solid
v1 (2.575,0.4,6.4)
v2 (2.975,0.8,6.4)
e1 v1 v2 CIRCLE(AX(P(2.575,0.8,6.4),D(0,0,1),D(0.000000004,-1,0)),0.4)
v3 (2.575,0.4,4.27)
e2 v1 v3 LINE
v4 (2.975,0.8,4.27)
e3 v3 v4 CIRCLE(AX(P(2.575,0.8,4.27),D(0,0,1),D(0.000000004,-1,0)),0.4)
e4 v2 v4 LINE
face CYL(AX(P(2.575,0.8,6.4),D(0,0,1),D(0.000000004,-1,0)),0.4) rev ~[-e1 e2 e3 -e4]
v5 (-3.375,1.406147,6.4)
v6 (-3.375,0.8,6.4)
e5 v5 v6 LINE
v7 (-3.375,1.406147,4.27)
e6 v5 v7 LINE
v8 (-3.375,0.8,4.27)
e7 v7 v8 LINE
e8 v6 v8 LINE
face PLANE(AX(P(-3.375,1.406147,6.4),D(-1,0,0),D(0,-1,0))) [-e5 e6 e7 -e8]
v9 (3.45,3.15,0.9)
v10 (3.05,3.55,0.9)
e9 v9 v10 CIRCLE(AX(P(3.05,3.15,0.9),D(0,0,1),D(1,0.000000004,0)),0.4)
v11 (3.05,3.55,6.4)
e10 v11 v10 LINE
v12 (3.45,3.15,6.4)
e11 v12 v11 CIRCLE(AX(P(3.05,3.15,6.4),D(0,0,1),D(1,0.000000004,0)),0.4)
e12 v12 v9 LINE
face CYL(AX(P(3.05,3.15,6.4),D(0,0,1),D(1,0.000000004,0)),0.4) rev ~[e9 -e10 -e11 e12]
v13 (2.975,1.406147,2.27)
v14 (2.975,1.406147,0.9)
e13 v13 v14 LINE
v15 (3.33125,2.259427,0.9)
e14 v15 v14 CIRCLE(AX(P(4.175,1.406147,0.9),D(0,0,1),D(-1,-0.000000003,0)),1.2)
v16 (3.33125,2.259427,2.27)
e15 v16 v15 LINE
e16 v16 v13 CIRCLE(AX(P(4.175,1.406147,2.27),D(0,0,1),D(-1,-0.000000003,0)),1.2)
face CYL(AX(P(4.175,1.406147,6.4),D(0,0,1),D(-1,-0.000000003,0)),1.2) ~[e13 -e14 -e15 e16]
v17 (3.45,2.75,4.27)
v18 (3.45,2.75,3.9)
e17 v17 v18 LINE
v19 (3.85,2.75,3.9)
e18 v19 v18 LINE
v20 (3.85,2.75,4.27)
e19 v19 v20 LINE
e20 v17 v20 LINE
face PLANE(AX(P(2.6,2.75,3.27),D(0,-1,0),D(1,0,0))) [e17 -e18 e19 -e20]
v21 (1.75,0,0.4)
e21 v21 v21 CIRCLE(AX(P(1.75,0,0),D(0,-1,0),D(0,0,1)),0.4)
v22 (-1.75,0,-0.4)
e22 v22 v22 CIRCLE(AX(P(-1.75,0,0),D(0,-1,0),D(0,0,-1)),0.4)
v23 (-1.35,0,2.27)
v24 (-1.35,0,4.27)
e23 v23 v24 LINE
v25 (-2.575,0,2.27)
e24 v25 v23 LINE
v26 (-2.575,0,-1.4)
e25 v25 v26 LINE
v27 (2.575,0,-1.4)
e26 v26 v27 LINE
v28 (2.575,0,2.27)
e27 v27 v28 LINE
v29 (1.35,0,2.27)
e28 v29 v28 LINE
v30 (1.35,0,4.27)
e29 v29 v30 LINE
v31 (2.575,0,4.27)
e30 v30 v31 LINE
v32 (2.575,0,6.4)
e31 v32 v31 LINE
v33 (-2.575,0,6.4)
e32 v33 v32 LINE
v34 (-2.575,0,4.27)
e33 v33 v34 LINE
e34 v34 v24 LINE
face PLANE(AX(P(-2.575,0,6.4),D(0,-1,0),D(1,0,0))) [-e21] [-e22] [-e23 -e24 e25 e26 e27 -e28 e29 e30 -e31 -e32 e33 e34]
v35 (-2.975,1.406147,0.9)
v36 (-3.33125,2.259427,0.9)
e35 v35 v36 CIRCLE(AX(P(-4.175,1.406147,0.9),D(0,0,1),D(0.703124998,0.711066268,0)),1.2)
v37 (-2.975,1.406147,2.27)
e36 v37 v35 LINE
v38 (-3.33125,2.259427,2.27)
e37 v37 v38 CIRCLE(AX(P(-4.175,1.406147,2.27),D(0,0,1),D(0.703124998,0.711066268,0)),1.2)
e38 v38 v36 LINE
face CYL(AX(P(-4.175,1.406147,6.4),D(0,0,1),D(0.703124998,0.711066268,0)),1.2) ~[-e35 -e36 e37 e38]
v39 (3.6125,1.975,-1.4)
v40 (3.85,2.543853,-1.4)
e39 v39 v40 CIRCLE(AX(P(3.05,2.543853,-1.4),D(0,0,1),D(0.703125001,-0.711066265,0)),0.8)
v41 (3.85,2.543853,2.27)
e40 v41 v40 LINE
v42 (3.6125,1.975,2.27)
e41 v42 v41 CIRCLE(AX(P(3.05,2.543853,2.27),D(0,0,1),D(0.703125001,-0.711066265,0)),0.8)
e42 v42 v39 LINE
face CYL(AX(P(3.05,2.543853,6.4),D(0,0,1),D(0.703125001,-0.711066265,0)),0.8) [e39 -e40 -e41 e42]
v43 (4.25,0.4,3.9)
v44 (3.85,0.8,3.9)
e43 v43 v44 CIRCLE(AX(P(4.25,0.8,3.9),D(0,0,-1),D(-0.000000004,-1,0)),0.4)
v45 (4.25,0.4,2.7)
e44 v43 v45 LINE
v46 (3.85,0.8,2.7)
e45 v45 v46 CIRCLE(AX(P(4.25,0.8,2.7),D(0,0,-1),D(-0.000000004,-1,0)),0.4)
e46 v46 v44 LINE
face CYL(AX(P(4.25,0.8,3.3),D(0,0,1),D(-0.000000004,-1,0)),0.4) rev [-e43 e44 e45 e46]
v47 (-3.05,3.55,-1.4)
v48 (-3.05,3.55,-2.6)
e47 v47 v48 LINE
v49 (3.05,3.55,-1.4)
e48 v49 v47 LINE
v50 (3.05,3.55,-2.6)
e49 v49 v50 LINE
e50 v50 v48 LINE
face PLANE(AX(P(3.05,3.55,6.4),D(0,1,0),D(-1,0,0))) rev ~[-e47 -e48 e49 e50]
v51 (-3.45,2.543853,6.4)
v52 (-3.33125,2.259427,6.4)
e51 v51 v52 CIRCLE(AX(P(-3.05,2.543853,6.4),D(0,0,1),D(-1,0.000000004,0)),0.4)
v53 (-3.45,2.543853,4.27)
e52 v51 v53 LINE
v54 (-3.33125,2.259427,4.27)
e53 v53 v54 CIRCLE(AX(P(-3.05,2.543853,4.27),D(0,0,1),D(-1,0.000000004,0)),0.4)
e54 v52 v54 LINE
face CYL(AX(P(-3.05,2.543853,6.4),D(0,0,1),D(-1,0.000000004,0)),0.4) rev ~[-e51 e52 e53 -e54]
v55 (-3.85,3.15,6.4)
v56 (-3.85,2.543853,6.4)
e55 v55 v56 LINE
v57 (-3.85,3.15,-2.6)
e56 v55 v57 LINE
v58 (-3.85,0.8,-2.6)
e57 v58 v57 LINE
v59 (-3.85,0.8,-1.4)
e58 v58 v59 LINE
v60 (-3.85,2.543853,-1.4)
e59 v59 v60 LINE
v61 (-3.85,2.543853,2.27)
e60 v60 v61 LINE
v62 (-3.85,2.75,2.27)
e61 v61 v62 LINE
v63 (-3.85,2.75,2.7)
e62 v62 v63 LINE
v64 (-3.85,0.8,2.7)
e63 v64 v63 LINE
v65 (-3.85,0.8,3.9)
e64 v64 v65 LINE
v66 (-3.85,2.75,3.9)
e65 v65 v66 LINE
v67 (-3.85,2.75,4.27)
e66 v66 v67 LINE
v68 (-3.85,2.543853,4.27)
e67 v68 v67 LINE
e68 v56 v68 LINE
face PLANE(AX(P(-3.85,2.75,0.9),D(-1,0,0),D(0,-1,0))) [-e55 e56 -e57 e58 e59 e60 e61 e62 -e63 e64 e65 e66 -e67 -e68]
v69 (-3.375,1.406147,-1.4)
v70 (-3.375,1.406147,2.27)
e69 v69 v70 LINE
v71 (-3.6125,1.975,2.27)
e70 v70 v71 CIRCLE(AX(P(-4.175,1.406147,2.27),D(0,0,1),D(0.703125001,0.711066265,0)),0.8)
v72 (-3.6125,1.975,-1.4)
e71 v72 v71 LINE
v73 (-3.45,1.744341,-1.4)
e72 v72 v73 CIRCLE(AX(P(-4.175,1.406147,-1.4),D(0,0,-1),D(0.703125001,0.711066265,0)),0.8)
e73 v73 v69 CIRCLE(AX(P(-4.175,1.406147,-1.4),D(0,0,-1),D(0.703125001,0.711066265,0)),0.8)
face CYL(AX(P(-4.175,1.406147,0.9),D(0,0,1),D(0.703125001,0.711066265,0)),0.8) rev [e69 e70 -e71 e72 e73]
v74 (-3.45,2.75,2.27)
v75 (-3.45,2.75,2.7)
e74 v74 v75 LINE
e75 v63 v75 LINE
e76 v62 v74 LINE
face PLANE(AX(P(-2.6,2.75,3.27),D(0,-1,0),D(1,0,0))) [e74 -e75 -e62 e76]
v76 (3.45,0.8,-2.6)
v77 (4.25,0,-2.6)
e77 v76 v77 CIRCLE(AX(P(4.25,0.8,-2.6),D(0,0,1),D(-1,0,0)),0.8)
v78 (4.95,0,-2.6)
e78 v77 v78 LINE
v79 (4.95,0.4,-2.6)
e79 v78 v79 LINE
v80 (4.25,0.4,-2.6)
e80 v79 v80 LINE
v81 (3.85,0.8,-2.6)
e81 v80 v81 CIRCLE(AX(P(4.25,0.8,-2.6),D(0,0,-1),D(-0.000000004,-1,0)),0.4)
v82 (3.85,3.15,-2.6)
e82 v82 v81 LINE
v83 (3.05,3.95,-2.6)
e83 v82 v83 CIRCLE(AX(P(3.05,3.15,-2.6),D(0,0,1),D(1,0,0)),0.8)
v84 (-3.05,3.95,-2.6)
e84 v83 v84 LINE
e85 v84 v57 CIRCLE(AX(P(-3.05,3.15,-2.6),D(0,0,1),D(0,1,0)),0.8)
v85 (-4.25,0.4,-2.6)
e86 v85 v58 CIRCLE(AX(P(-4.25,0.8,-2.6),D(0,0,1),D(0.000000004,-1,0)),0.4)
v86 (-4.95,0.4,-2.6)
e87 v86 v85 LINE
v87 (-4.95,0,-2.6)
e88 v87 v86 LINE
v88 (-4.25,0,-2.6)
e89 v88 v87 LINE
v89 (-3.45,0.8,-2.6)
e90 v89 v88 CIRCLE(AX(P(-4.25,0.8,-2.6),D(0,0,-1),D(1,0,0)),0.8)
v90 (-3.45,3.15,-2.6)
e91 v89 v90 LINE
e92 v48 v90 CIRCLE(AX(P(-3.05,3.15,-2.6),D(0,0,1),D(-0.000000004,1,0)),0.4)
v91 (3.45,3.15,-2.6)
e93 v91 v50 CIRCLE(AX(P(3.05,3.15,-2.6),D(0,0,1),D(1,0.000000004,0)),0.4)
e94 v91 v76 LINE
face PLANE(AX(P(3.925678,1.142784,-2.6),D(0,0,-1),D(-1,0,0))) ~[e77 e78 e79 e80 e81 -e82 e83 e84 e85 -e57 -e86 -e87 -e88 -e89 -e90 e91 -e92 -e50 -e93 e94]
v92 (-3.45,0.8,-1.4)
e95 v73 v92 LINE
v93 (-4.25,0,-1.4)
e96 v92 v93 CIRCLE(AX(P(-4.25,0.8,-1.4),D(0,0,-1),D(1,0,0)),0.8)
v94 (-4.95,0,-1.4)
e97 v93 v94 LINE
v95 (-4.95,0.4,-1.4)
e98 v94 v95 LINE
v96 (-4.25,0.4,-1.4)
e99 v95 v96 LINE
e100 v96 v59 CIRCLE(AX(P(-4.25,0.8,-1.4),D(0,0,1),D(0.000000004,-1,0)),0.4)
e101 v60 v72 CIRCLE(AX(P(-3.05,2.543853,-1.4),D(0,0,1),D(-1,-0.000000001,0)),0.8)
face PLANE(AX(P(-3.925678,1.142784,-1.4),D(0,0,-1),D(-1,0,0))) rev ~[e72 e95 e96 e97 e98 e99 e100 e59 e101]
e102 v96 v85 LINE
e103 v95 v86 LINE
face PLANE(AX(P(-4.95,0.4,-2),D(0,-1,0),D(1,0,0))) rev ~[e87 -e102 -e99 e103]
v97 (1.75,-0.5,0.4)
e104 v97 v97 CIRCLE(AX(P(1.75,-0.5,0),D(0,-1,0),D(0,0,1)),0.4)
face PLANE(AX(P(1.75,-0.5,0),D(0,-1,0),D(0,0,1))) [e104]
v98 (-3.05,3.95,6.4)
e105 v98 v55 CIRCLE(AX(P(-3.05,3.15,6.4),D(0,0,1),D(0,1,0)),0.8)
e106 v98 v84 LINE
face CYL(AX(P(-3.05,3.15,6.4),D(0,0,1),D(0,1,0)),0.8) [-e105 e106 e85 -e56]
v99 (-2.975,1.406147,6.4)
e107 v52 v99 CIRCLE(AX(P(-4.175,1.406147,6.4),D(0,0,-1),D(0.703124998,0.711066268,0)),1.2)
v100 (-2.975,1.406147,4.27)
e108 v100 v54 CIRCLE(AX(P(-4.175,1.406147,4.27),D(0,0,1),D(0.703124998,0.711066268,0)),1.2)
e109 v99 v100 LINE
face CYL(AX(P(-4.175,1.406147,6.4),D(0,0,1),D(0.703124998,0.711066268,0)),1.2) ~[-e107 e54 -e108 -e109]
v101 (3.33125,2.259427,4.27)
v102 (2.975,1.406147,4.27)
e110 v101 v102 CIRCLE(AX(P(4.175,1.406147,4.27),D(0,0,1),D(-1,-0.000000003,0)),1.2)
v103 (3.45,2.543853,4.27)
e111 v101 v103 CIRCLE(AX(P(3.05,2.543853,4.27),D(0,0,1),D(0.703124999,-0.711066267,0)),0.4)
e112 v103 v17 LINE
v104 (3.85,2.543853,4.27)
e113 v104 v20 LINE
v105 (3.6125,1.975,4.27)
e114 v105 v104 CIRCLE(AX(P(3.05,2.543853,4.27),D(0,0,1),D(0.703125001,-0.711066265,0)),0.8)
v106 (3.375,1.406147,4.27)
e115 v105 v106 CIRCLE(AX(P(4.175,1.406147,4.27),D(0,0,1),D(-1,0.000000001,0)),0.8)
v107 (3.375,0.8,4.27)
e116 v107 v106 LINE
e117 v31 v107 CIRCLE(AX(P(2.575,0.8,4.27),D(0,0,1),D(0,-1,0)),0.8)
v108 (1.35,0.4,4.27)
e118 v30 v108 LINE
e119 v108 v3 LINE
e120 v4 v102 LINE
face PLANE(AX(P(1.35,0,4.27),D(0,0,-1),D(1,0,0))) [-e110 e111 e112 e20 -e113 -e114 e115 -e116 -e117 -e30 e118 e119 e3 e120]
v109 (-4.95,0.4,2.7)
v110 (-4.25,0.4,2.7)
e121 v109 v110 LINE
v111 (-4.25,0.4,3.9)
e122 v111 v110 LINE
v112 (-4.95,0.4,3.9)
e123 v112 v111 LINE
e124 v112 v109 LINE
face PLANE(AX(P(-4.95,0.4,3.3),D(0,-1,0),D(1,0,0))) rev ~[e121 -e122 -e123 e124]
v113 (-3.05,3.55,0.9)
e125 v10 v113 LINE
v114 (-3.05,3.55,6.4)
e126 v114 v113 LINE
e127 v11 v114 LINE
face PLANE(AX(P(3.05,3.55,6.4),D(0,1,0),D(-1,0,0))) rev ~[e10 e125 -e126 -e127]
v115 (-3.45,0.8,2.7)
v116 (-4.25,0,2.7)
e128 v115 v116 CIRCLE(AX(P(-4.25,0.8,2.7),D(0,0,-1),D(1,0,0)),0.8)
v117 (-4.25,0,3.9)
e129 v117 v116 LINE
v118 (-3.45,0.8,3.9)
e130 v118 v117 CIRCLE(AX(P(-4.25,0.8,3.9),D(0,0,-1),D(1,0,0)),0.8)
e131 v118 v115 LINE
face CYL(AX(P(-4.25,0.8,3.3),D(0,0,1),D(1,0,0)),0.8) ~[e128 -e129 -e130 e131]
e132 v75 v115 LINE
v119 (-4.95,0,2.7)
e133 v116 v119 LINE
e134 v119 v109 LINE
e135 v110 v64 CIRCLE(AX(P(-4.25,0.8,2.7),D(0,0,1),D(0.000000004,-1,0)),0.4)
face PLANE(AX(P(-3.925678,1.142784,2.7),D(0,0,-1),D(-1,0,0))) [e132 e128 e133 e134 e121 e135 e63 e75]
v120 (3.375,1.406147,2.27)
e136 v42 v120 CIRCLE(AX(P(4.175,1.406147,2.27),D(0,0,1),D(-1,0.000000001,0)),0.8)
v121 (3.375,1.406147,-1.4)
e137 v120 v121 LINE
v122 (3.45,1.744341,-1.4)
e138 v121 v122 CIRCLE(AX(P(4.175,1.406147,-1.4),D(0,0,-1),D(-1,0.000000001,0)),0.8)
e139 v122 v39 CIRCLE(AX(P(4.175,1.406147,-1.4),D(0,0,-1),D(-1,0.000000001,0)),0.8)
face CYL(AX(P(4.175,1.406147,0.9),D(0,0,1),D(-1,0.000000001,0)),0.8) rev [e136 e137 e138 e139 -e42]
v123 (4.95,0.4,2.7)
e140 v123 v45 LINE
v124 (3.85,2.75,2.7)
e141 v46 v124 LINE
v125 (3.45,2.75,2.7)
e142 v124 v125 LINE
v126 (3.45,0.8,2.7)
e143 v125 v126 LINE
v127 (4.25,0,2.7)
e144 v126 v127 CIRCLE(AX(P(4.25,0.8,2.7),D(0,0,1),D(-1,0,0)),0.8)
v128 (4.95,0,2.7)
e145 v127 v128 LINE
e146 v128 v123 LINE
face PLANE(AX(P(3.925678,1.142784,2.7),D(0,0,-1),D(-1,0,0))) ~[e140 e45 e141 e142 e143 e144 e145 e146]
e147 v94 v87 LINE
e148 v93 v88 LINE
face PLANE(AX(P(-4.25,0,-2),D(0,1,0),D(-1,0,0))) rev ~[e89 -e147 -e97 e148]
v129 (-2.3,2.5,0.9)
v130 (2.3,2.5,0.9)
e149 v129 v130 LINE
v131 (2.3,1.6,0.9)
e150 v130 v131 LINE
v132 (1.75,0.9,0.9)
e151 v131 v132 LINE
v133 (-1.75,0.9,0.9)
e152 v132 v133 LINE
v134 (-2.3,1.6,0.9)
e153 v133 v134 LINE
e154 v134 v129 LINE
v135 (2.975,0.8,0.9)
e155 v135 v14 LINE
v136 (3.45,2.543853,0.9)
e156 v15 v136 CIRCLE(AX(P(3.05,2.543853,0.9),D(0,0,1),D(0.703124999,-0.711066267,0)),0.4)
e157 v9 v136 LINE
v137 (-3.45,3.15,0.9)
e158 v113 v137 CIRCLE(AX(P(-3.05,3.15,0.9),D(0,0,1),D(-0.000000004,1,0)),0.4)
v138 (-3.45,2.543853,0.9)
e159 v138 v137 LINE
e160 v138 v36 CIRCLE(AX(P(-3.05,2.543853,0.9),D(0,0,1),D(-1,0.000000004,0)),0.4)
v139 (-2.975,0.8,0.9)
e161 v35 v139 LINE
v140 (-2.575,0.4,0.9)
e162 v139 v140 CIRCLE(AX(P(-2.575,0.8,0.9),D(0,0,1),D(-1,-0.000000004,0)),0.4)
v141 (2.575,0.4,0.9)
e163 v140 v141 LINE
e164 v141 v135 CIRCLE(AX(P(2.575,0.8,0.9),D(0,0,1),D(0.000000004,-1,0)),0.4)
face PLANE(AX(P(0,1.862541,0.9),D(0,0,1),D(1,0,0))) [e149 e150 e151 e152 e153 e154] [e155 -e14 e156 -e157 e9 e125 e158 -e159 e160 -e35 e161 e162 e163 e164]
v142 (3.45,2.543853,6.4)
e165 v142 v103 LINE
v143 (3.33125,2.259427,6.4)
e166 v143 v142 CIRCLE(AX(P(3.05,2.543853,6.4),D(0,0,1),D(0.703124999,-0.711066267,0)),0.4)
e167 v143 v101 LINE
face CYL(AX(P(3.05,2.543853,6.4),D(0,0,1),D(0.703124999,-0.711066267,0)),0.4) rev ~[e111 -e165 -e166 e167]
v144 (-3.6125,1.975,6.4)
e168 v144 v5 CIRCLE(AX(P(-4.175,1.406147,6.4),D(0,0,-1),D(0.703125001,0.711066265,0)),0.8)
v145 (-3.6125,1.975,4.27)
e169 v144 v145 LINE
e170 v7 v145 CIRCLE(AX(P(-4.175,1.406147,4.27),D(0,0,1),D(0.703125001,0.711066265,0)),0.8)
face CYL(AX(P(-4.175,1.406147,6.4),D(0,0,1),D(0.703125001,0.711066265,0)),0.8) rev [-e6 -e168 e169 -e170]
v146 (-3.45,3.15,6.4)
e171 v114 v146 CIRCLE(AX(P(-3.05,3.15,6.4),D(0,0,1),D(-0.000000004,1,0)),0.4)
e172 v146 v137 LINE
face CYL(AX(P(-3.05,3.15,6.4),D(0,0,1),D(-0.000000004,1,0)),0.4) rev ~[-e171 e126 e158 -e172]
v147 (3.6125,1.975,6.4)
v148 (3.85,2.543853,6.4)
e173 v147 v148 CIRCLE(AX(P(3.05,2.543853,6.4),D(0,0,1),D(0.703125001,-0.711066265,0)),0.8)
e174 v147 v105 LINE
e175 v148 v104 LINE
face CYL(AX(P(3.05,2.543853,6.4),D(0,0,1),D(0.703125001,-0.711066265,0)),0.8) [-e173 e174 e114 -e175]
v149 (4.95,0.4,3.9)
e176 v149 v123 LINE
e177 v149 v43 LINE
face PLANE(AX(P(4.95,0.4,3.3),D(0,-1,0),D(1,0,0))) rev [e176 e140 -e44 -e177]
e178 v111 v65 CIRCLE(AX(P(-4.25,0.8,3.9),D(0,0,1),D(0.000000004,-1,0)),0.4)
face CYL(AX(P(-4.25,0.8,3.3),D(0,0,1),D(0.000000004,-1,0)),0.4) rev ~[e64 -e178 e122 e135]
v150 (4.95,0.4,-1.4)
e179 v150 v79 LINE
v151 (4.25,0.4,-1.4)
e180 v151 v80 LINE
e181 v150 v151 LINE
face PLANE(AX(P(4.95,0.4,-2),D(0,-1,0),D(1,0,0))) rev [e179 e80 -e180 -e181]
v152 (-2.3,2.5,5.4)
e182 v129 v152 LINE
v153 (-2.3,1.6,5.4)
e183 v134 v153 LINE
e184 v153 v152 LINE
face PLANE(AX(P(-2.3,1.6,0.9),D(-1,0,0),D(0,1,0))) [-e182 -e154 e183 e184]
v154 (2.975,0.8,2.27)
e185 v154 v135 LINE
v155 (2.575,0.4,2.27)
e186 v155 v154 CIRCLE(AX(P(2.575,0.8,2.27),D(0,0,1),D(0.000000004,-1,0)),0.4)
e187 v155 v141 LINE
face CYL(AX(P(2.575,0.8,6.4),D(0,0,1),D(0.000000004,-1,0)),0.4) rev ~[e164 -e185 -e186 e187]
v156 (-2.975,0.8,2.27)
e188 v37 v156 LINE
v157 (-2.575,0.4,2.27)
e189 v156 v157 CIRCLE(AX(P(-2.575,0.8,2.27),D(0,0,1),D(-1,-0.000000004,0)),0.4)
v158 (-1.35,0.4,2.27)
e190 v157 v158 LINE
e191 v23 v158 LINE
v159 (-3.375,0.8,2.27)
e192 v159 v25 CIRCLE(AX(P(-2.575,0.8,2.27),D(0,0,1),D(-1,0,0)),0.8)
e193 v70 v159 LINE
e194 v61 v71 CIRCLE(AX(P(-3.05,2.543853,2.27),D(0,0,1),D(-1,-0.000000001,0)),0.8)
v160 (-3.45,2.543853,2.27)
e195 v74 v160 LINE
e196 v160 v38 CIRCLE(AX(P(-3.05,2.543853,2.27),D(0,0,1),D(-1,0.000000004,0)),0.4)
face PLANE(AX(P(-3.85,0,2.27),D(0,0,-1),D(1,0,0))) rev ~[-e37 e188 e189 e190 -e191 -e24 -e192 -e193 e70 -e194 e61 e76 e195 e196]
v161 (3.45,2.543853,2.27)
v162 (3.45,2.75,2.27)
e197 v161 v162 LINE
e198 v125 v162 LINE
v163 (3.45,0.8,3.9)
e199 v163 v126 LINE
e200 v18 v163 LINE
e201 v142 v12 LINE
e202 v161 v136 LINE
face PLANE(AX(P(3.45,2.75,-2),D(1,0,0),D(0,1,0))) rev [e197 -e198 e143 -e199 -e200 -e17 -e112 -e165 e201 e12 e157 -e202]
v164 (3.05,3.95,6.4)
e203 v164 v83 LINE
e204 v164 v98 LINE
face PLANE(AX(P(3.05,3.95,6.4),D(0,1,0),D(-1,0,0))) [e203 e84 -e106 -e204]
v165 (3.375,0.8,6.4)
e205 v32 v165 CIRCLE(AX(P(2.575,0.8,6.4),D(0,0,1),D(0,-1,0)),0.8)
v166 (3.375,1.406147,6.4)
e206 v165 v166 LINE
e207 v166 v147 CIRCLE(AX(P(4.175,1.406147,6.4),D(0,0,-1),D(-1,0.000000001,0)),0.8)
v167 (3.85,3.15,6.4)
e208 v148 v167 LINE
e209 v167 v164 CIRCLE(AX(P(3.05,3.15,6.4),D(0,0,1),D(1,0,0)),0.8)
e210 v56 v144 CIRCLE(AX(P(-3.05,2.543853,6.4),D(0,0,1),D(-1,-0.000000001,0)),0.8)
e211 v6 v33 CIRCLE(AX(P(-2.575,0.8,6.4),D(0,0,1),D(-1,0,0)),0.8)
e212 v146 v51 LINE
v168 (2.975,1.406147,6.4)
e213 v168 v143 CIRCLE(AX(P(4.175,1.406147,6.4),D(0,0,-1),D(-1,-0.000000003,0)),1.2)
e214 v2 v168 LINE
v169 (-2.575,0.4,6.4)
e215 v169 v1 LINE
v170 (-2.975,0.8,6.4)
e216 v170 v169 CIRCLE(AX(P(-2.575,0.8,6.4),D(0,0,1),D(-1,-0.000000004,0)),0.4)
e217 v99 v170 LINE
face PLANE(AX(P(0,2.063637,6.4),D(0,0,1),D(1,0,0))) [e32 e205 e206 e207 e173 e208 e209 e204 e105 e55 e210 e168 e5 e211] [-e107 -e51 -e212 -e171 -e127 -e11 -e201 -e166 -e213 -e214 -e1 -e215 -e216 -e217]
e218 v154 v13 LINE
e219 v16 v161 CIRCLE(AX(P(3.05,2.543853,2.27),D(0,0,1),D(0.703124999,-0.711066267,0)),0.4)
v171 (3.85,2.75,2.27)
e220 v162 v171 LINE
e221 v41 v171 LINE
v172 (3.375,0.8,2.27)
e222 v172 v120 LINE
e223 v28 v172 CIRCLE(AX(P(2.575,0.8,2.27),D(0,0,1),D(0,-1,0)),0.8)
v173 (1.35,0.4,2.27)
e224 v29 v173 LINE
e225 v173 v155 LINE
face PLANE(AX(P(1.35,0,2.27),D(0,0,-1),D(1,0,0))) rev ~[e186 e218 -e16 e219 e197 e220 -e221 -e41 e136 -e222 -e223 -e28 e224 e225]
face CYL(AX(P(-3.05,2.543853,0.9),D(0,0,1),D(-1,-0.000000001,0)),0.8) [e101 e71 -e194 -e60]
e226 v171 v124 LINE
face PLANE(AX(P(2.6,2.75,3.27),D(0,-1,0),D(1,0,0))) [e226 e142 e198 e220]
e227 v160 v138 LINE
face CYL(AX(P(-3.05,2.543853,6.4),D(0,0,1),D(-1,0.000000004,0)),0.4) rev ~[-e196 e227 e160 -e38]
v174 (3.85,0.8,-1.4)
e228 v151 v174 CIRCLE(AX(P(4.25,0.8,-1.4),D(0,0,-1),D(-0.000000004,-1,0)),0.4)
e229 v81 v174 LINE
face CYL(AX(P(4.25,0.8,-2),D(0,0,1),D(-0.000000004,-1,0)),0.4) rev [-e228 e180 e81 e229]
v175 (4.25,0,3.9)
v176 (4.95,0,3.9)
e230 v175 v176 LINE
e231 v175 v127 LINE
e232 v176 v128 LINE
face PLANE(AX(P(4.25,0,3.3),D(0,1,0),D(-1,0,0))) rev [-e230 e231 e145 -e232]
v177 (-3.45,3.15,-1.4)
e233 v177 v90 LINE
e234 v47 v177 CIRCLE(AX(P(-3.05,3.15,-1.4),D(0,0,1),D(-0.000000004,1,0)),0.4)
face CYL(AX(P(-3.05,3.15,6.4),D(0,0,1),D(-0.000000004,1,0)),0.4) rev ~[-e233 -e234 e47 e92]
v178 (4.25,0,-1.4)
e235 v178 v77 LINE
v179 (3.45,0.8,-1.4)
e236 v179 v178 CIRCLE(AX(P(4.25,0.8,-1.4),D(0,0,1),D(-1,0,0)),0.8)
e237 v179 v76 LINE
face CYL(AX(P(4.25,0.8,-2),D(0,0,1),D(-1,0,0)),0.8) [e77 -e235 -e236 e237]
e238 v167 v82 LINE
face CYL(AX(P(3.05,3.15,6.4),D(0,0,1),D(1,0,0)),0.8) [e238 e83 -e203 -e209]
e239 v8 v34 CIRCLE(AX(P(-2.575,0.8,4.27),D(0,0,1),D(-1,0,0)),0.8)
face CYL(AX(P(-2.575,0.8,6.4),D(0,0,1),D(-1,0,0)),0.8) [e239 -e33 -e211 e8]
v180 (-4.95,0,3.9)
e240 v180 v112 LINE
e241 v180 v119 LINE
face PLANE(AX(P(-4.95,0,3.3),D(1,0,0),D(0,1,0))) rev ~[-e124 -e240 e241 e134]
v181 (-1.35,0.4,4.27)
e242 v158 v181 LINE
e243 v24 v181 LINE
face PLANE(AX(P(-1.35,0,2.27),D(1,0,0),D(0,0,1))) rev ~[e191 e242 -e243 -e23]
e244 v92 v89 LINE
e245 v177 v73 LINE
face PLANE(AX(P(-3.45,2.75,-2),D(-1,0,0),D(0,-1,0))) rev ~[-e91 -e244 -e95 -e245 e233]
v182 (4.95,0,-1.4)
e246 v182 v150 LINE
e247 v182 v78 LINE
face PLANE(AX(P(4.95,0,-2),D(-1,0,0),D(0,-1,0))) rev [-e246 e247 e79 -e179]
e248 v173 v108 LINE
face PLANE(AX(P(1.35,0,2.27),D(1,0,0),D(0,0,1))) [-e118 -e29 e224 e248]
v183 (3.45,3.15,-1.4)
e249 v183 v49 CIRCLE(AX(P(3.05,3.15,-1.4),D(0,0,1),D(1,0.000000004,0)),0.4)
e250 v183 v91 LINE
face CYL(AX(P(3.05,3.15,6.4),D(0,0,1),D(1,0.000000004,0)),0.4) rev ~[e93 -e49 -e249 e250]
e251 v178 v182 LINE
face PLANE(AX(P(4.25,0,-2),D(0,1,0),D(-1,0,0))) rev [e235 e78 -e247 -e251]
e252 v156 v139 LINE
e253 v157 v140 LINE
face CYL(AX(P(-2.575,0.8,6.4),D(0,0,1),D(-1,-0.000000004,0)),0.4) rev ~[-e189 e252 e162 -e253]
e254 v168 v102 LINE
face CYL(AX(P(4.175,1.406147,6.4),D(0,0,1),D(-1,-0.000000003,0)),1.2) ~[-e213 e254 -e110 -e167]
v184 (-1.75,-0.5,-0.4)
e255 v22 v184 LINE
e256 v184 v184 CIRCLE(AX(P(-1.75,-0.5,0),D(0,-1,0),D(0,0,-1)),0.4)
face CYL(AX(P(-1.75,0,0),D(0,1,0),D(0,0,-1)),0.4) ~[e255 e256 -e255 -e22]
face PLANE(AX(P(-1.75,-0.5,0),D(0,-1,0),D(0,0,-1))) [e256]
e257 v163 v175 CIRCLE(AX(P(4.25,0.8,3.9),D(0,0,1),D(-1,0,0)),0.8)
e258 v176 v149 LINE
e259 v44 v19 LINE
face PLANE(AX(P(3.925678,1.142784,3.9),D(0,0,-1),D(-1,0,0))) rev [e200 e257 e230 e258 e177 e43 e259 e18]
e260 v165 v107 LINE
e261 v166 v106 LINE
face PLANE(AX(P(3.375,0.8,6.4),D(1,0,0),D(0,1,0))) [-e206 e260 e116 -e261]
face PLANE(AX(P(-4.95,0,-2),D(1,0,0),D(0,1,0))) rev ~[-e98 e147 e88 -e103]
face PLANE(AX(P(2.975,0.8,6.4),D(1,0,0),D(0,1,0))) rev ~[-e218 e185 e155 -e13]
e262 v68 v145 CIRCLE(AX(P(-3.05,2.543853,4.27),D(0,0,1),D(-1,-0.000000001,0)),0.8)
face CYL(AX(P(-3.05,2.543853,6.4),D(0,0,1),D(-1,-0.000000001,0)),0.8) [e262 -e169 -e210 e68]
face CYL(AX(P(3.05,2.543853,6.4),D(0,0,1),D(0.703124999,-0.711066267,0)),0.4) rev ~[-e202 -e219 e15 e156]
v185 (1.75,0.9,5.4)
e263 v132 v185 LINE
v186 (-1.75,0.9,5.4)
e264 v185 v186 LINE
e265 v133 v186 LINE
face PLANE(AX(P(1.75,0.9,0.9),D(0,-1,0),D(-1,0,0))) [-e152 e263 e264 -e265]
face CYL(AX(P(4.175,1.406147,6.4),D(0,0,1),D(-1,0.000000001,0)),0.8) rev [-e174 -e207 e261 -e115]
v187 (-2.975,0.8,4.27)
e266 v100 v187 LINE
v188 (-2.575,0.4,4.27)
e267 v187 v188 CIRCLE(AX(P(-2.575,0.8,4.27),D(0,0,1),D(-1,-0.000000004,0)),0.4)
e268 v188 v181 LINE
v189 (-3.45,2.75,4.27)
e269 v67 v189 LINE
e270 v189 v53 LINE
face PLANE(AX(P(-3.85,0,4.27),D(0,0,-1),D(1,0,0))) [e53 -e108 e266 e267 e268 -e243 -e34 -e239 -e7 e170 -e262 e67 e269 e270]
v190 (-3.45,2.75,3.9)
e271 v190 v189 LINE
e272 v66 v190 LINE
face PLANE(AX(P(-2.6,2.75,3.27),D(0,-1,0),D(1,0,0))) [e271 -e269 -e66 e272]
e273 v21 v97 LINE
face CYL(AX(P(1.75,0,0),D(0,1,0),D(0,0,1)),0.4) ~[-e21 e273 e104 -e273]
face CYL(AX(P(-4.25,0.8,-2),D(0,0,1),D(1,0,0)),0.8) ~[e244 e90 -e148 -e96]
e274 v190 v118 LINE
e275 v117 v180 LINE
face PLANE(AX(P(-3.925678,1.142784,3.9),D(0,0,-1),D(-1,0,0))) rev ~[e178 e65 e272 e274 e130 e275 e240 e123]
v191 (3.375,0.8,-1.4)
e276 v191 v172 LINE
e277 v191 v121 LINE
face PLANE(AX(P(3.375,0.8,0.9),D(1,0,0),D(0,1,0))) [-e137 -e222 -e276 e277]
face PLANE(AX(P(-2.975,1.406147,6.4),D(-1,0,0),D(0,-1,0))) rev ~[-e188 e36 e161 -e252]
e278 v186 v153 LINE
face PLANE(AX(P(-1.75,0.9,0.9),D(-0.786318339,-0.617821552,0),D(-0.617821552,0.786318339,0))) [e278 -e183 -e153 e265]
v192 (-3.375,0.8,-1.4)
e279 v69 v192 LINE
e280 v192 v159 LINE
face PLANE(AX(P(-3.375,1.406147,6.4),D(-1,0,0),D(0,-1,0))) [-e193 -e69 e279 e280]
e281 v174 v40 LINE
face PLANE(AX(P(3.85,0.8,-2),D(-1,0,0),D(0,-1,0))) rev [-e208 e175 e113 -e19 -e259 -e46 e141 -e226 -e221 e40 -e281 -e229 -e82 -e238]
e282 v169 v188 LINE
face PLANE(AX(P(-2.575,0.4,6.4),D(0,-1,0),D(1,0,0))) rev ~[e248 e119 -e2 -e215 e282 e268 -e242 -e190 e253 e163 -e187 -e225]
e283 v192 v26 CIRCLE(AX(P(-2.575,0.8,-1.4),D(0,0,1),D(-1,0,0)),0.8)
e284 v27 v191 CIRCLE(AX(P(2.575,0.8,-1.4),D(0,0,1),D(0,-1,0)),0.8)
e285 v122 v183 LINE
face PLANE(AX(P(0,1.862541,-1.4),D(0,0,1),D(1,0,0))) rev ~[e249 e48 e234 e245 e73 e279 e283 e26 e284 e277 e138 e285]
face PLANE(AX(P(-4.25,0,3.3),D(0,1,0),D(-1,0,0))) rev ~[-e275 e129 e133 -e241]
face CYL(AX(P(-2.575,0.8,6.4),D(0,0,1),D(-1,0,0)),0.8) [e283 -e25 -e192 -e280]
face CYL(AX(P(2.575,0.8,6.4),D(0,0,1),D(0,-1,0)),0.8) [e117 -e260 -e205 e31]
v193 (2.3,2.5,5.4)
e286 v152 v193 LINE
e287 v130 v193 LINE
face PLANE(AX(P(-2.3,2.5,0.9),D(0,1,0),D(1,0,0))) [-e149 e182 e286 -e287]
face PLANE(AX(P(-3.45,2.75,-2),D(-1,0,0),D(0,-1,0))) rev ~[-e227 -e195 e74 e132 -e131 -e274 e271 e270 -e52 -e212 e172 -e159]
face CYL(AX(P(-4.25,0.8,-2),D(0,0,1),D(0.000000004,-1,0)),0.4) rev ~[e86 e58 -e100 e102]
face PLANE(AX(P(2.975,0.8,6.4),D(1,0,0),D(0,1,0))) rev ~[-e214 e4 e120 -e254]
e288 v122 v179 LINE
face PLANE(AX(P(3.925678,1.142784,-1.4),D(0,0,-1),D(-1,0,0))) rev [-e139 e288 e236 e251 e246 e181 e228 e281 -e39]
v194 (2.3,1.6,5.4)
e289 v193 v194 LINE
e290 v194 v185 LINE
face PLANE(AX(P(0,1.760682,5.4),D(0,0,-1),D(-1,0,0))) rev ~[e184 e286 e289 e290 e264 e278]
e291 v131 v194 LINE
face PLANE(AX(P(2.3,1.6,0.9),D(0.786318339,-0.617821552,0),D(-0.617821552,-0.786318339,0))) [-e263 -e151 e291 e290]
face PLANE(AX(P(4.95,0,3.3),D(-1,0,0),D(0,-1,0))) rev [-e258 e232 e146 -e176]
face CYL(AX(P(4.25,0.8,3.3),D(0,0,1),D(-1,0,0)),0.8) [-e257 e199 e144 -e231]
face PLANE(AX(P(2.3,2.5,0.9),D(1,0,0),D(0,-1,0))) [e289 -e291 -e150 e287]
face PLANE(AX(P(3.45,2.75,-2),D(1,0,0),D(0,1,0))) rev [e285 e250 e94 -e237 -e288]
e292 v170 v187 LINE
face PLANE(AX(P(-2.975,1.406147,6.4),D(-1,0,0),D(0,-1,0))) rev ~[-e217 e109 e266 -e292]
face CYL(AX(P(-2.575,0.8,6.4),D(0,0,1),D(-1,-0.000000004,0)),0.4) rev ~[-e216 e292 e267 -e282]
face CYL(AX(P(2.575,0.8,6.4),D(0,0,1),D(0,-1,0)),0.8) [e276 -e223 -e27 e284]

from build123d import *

# Parameters (mm, degrees)
BODY_START       = 6.4
BODY_DEPTH       = 9
SKETCH2_W        = 2.5
SKETCH2_H        = 2
SKETCH2_W_2      = 7.7
SKETCH2_H_2      = 3.5
BODYCUT_DEPTH    = 2.75
FOOT1_DEPTH      = 0.6
FOOT2_DEPTH      = 0.6
CORE1_DEPTH      = 2.3
CORE2_DEPTH      = 4.5
SKETCH9_R        = 0.4
LOCATEPINS_DEPTH = 0.5


with BuildPart() as part:
    # Sketch1 → Body (new body)
    with BuildSketch(Plane.XY.offset(BODY_START)):
        with BuildLine():
            ThreePointArc((3.6125, 1.975), (3.788241153, 2.235632313), (3.85, 2.543853013))
            Line((3.85, 2.543853013), (3.85, 3.15))
            ThreePointArc((3.85, 3.15), (3.615685425, 3.715685425), (3.05, 3.95))
            Line((3.05, 3.95), (-3.05, 3.95))
            ThreePointArc((-3.05, 3.95), (-3.615685425, 3.715685425), (-3.85, 3.15))
            Line((-3.85, 3.15), (-3.85, 2.543853013))
            ThreePointArc((-3.85, 2.543853013), (-3.788241153, 2.235632313), (-3.6125, 1.975))
            ThreePointArc((-3.6125, 1.975), (-3.436758847, 1.714367687), (-3.375, 1.406146987))
            Line((-3.375, 1.406146987), (-3.375, 0.8))
            ThreePointArc((-3.375, 0.8), (-3.140685425, 0.234314575), (-2.575, 0))
            Line((-2.575, 0), (2.575, 0))
            ThreePointArc((2.575, 0), (3.140685425, 0.234314575), (3.375, 0.8))
            Line((3.375, 0.8), (3.375, 1.406146987))
            ThreePointArc((3.375, 1.406146987), (3.436758847, 1.714367687), (3.6125, 1.975))
        make_face()
        with BuildLine():
            ThreePointArc((3.33125, 2.259426506), (3.419120577, 2.389742663), (3.45, 2.543853013))
            Line((3.45, 2.543853013), (3.45, 3.15))
            ThreePointArc((3.45, 3.15), (3.332842712, 3.432842712), (3.05, 3.55))
            Line((3.05, 3.55), (-3.05, 3.55))
            ThreePointArc((-3.05, 3.55), (-3.332842712, 3.432842712), (-3.45, 3.15))
            Line((-3.45, 3.15), (-3.45, 2.543853013))
            ThreePointArc((-3.45, 2.543853013), (-3.419120577, 2.389742663), (-3.33125, 2.259426506))
            ThreePointArc((-3.33125, 2.259426506), (-3.06763827, 1.868478038), (-2.975, 1.406146987))
            Line((-2.975, 1.406146987), (-2.975, 0.8))
            ThreePointArc((-2.975, 0.8), (-2.857842712, 0.517157288), (-2.575, 0.4))
            Line((-2.575, 0.4), (2.575, 0.4))
            ThreePointArc((2.575, 0.4), (2.857842712, 0.517157288), (2.975, 0.8))
            Line((2.975, 0.8), (2.975, 1.406146987))
            ThreePointArc((2.975, 1.406146987), (3.06763827, 1.868478038), (3.33125, 2.259426506))
        make_face(mode=Mode.SUBTRACT)
    extrude(amount=-BODY_DEPTH)

    # Sketch2 → BodyCut (cut)
    with BuildSketch(Plane.XZ):
        with Locations((2.6, 3.27)):
            Rectangle(SKETCH2_W, SKETCH2_H)
        with Locations((0, -0.85)):
            Rectangle(SKETCH2_W_2, SKETCH2_H_2)
        with Locations((-2.6, 3.27)):
            Rectangle(SKETCH2_W, SKETCH2_H)
    extrude(amount=-BODYCUT_DEPTH, mode=Mode.SUBTRACT)

    # Sketch3 → Foot1 (add, symmetric)
    with BuildSketch(Plane.XY.offset(-2)):
        with BuildLine():
            Line((-3.45, 2.75), (-3.45, 0.8))
            ThreePointArc((-3.45, 0.8), (-3.684314575, 0.234314575), (-4.25, 0))
            Line((-4.25, 0), (-4.95, 0))
            Line((-4.95, 0), (-4.95, 0.4))
            Line((-4.95, 0.4), (-4.25, 0.4))
            ThreePointArc((-4.25, 0.4), (-3.967157288, 0.517157288), (-3.85, 0.8))
            Line((-3.85, 0.8), (-3.85, 2.75))
            Line((-3.85, 2.75), (-3.45, 2.75))
        make_face()
    foot1 = extrude(amount=FOOT1_DEPTH, both=True)

    # Sketch4 → Foot2 (add, symmetric)
    with BuildSketch(Plane.XY.offset(3.3)):
        with BuildLine():
            Line((-3.45, 2.75), (-3.45, 0.8))
            ThreePointArc((-3.45, 0.8), (-3.684314575, 0.234314575), (-4.25, 0))
            Line((-4.25, 0), (-4.95, 0))
            Line((-4.95, 0), (-4.95, 0.4))
            Line((-4.95, 0.4), (-4.25, 0.4))
            ThreePointArc((-4.25, 0.4), (-3.967157288, 0.517157288), (-3.85, 0.8))
            Line((-3.85, 0.8), (-3.85, 2.75))
            Line((-3.85, 2.75), (-3.45, 2.75))
        make_face()
    foot2 = extrude(amount=FOOT2_DEPTH, both=True)

    # Mirror1: Foot1, Foot2 across plane
    add(foot1.mirror(Plane(origin=(0, 0, 0), x_dir=(0, 0, 1), z_dir=(1, 0, 0))))
    add(foot2.mirror(Plane(origin=(0, 0, 0), x_dir=(0, 0, 1), z_dir=(1, 0, 0))))

    # Sketch6 → Core1 (add)
    with BuildSketch(Plane(origin=(0, 0, 0.9), x_dir=(-1, 0, 0), z_dir=(0, 0, -1))):
        with BuildLine():
            Line((3.45, 3.15), (3.45, 2.75))
            Line((3.45, 2.75), (3.85, 2.75))
            Line((3.85, 2.75), (3.85, 2.543853013))
            ThreePointArc((3.85, 2.543853013), (3.788241153, 2.235632313), (3.6125, 1.975))
            ThreePointArc((3.6125, 1.975), (3.436758847, 1.714367687), (3.375, 1.406146987))
            Line((3.375, 1.406146987), (3.375, 0.8))
            ThreePointArc((3.375, 0.8), (3.140685425, 0.234314575), (2.575, 0))
            Line((2.575, 0), (-2.575, 0))
            ThreePointArc((-2.575, 0), (-3.140685425, 0.234314575), (-3.375, 0.8))
            Line((-3.375, 0.8), (-3.375, 1.406146987))
            ThreePointArc((-3.375, 1.406146987), (-3.436758847, 1.714367687), (-3.6125, 1.975))
            ThreePointArc((-3.6125, 1.975), (-3.788241153, 2.235632313), (-3.85, 2.543853013))
            Line((-3.85, 2.543853013), (-3.85, 2.75))
            Line((-3.85, 2.75), (-3.45, 2.75))
            Line((-3.45, 2.75), (-3.45, 3.15))
            ThreePointArc((-3.45, 3.15), (-3.332842712, 3.432842712), (-3.05, 3.55))
            Line((-3.05, 3.55), (3.05, 3.55))
            ThreePointArc((3.05, 3.55), (3.332842712, 3.432842712), (3.45, 3.15))
        make_face()
    extrude(amount=CORE1_DEPTH)

    # Sketch7 → Core2 (add)
    with BuildSketch(Plane.XY.offset(0.9)):
        Polygon((-2.3, 2.5), (2.3, 2.5), (2.3, 1.6), (1.75, 0.9), (-1.75, 0.9), (-2.3, 1.6), align=None)
    extrude(amount=CORE2_DEPTH)

    # Sketch9 → LocatePins (add)
    with BuildSketch(Plane.XZ):
        with Locations(Location((-1.75, 0, 0), (0, 0, 270))):
            Circle(SKETCH9_R)
        with Locations(Location((1.75, 0, 0), (0, 0, 90))):
            Circle(SKETCH9_R)
    extrude(amount=LOCATEPINS_DEPTH)


solid = part.part
